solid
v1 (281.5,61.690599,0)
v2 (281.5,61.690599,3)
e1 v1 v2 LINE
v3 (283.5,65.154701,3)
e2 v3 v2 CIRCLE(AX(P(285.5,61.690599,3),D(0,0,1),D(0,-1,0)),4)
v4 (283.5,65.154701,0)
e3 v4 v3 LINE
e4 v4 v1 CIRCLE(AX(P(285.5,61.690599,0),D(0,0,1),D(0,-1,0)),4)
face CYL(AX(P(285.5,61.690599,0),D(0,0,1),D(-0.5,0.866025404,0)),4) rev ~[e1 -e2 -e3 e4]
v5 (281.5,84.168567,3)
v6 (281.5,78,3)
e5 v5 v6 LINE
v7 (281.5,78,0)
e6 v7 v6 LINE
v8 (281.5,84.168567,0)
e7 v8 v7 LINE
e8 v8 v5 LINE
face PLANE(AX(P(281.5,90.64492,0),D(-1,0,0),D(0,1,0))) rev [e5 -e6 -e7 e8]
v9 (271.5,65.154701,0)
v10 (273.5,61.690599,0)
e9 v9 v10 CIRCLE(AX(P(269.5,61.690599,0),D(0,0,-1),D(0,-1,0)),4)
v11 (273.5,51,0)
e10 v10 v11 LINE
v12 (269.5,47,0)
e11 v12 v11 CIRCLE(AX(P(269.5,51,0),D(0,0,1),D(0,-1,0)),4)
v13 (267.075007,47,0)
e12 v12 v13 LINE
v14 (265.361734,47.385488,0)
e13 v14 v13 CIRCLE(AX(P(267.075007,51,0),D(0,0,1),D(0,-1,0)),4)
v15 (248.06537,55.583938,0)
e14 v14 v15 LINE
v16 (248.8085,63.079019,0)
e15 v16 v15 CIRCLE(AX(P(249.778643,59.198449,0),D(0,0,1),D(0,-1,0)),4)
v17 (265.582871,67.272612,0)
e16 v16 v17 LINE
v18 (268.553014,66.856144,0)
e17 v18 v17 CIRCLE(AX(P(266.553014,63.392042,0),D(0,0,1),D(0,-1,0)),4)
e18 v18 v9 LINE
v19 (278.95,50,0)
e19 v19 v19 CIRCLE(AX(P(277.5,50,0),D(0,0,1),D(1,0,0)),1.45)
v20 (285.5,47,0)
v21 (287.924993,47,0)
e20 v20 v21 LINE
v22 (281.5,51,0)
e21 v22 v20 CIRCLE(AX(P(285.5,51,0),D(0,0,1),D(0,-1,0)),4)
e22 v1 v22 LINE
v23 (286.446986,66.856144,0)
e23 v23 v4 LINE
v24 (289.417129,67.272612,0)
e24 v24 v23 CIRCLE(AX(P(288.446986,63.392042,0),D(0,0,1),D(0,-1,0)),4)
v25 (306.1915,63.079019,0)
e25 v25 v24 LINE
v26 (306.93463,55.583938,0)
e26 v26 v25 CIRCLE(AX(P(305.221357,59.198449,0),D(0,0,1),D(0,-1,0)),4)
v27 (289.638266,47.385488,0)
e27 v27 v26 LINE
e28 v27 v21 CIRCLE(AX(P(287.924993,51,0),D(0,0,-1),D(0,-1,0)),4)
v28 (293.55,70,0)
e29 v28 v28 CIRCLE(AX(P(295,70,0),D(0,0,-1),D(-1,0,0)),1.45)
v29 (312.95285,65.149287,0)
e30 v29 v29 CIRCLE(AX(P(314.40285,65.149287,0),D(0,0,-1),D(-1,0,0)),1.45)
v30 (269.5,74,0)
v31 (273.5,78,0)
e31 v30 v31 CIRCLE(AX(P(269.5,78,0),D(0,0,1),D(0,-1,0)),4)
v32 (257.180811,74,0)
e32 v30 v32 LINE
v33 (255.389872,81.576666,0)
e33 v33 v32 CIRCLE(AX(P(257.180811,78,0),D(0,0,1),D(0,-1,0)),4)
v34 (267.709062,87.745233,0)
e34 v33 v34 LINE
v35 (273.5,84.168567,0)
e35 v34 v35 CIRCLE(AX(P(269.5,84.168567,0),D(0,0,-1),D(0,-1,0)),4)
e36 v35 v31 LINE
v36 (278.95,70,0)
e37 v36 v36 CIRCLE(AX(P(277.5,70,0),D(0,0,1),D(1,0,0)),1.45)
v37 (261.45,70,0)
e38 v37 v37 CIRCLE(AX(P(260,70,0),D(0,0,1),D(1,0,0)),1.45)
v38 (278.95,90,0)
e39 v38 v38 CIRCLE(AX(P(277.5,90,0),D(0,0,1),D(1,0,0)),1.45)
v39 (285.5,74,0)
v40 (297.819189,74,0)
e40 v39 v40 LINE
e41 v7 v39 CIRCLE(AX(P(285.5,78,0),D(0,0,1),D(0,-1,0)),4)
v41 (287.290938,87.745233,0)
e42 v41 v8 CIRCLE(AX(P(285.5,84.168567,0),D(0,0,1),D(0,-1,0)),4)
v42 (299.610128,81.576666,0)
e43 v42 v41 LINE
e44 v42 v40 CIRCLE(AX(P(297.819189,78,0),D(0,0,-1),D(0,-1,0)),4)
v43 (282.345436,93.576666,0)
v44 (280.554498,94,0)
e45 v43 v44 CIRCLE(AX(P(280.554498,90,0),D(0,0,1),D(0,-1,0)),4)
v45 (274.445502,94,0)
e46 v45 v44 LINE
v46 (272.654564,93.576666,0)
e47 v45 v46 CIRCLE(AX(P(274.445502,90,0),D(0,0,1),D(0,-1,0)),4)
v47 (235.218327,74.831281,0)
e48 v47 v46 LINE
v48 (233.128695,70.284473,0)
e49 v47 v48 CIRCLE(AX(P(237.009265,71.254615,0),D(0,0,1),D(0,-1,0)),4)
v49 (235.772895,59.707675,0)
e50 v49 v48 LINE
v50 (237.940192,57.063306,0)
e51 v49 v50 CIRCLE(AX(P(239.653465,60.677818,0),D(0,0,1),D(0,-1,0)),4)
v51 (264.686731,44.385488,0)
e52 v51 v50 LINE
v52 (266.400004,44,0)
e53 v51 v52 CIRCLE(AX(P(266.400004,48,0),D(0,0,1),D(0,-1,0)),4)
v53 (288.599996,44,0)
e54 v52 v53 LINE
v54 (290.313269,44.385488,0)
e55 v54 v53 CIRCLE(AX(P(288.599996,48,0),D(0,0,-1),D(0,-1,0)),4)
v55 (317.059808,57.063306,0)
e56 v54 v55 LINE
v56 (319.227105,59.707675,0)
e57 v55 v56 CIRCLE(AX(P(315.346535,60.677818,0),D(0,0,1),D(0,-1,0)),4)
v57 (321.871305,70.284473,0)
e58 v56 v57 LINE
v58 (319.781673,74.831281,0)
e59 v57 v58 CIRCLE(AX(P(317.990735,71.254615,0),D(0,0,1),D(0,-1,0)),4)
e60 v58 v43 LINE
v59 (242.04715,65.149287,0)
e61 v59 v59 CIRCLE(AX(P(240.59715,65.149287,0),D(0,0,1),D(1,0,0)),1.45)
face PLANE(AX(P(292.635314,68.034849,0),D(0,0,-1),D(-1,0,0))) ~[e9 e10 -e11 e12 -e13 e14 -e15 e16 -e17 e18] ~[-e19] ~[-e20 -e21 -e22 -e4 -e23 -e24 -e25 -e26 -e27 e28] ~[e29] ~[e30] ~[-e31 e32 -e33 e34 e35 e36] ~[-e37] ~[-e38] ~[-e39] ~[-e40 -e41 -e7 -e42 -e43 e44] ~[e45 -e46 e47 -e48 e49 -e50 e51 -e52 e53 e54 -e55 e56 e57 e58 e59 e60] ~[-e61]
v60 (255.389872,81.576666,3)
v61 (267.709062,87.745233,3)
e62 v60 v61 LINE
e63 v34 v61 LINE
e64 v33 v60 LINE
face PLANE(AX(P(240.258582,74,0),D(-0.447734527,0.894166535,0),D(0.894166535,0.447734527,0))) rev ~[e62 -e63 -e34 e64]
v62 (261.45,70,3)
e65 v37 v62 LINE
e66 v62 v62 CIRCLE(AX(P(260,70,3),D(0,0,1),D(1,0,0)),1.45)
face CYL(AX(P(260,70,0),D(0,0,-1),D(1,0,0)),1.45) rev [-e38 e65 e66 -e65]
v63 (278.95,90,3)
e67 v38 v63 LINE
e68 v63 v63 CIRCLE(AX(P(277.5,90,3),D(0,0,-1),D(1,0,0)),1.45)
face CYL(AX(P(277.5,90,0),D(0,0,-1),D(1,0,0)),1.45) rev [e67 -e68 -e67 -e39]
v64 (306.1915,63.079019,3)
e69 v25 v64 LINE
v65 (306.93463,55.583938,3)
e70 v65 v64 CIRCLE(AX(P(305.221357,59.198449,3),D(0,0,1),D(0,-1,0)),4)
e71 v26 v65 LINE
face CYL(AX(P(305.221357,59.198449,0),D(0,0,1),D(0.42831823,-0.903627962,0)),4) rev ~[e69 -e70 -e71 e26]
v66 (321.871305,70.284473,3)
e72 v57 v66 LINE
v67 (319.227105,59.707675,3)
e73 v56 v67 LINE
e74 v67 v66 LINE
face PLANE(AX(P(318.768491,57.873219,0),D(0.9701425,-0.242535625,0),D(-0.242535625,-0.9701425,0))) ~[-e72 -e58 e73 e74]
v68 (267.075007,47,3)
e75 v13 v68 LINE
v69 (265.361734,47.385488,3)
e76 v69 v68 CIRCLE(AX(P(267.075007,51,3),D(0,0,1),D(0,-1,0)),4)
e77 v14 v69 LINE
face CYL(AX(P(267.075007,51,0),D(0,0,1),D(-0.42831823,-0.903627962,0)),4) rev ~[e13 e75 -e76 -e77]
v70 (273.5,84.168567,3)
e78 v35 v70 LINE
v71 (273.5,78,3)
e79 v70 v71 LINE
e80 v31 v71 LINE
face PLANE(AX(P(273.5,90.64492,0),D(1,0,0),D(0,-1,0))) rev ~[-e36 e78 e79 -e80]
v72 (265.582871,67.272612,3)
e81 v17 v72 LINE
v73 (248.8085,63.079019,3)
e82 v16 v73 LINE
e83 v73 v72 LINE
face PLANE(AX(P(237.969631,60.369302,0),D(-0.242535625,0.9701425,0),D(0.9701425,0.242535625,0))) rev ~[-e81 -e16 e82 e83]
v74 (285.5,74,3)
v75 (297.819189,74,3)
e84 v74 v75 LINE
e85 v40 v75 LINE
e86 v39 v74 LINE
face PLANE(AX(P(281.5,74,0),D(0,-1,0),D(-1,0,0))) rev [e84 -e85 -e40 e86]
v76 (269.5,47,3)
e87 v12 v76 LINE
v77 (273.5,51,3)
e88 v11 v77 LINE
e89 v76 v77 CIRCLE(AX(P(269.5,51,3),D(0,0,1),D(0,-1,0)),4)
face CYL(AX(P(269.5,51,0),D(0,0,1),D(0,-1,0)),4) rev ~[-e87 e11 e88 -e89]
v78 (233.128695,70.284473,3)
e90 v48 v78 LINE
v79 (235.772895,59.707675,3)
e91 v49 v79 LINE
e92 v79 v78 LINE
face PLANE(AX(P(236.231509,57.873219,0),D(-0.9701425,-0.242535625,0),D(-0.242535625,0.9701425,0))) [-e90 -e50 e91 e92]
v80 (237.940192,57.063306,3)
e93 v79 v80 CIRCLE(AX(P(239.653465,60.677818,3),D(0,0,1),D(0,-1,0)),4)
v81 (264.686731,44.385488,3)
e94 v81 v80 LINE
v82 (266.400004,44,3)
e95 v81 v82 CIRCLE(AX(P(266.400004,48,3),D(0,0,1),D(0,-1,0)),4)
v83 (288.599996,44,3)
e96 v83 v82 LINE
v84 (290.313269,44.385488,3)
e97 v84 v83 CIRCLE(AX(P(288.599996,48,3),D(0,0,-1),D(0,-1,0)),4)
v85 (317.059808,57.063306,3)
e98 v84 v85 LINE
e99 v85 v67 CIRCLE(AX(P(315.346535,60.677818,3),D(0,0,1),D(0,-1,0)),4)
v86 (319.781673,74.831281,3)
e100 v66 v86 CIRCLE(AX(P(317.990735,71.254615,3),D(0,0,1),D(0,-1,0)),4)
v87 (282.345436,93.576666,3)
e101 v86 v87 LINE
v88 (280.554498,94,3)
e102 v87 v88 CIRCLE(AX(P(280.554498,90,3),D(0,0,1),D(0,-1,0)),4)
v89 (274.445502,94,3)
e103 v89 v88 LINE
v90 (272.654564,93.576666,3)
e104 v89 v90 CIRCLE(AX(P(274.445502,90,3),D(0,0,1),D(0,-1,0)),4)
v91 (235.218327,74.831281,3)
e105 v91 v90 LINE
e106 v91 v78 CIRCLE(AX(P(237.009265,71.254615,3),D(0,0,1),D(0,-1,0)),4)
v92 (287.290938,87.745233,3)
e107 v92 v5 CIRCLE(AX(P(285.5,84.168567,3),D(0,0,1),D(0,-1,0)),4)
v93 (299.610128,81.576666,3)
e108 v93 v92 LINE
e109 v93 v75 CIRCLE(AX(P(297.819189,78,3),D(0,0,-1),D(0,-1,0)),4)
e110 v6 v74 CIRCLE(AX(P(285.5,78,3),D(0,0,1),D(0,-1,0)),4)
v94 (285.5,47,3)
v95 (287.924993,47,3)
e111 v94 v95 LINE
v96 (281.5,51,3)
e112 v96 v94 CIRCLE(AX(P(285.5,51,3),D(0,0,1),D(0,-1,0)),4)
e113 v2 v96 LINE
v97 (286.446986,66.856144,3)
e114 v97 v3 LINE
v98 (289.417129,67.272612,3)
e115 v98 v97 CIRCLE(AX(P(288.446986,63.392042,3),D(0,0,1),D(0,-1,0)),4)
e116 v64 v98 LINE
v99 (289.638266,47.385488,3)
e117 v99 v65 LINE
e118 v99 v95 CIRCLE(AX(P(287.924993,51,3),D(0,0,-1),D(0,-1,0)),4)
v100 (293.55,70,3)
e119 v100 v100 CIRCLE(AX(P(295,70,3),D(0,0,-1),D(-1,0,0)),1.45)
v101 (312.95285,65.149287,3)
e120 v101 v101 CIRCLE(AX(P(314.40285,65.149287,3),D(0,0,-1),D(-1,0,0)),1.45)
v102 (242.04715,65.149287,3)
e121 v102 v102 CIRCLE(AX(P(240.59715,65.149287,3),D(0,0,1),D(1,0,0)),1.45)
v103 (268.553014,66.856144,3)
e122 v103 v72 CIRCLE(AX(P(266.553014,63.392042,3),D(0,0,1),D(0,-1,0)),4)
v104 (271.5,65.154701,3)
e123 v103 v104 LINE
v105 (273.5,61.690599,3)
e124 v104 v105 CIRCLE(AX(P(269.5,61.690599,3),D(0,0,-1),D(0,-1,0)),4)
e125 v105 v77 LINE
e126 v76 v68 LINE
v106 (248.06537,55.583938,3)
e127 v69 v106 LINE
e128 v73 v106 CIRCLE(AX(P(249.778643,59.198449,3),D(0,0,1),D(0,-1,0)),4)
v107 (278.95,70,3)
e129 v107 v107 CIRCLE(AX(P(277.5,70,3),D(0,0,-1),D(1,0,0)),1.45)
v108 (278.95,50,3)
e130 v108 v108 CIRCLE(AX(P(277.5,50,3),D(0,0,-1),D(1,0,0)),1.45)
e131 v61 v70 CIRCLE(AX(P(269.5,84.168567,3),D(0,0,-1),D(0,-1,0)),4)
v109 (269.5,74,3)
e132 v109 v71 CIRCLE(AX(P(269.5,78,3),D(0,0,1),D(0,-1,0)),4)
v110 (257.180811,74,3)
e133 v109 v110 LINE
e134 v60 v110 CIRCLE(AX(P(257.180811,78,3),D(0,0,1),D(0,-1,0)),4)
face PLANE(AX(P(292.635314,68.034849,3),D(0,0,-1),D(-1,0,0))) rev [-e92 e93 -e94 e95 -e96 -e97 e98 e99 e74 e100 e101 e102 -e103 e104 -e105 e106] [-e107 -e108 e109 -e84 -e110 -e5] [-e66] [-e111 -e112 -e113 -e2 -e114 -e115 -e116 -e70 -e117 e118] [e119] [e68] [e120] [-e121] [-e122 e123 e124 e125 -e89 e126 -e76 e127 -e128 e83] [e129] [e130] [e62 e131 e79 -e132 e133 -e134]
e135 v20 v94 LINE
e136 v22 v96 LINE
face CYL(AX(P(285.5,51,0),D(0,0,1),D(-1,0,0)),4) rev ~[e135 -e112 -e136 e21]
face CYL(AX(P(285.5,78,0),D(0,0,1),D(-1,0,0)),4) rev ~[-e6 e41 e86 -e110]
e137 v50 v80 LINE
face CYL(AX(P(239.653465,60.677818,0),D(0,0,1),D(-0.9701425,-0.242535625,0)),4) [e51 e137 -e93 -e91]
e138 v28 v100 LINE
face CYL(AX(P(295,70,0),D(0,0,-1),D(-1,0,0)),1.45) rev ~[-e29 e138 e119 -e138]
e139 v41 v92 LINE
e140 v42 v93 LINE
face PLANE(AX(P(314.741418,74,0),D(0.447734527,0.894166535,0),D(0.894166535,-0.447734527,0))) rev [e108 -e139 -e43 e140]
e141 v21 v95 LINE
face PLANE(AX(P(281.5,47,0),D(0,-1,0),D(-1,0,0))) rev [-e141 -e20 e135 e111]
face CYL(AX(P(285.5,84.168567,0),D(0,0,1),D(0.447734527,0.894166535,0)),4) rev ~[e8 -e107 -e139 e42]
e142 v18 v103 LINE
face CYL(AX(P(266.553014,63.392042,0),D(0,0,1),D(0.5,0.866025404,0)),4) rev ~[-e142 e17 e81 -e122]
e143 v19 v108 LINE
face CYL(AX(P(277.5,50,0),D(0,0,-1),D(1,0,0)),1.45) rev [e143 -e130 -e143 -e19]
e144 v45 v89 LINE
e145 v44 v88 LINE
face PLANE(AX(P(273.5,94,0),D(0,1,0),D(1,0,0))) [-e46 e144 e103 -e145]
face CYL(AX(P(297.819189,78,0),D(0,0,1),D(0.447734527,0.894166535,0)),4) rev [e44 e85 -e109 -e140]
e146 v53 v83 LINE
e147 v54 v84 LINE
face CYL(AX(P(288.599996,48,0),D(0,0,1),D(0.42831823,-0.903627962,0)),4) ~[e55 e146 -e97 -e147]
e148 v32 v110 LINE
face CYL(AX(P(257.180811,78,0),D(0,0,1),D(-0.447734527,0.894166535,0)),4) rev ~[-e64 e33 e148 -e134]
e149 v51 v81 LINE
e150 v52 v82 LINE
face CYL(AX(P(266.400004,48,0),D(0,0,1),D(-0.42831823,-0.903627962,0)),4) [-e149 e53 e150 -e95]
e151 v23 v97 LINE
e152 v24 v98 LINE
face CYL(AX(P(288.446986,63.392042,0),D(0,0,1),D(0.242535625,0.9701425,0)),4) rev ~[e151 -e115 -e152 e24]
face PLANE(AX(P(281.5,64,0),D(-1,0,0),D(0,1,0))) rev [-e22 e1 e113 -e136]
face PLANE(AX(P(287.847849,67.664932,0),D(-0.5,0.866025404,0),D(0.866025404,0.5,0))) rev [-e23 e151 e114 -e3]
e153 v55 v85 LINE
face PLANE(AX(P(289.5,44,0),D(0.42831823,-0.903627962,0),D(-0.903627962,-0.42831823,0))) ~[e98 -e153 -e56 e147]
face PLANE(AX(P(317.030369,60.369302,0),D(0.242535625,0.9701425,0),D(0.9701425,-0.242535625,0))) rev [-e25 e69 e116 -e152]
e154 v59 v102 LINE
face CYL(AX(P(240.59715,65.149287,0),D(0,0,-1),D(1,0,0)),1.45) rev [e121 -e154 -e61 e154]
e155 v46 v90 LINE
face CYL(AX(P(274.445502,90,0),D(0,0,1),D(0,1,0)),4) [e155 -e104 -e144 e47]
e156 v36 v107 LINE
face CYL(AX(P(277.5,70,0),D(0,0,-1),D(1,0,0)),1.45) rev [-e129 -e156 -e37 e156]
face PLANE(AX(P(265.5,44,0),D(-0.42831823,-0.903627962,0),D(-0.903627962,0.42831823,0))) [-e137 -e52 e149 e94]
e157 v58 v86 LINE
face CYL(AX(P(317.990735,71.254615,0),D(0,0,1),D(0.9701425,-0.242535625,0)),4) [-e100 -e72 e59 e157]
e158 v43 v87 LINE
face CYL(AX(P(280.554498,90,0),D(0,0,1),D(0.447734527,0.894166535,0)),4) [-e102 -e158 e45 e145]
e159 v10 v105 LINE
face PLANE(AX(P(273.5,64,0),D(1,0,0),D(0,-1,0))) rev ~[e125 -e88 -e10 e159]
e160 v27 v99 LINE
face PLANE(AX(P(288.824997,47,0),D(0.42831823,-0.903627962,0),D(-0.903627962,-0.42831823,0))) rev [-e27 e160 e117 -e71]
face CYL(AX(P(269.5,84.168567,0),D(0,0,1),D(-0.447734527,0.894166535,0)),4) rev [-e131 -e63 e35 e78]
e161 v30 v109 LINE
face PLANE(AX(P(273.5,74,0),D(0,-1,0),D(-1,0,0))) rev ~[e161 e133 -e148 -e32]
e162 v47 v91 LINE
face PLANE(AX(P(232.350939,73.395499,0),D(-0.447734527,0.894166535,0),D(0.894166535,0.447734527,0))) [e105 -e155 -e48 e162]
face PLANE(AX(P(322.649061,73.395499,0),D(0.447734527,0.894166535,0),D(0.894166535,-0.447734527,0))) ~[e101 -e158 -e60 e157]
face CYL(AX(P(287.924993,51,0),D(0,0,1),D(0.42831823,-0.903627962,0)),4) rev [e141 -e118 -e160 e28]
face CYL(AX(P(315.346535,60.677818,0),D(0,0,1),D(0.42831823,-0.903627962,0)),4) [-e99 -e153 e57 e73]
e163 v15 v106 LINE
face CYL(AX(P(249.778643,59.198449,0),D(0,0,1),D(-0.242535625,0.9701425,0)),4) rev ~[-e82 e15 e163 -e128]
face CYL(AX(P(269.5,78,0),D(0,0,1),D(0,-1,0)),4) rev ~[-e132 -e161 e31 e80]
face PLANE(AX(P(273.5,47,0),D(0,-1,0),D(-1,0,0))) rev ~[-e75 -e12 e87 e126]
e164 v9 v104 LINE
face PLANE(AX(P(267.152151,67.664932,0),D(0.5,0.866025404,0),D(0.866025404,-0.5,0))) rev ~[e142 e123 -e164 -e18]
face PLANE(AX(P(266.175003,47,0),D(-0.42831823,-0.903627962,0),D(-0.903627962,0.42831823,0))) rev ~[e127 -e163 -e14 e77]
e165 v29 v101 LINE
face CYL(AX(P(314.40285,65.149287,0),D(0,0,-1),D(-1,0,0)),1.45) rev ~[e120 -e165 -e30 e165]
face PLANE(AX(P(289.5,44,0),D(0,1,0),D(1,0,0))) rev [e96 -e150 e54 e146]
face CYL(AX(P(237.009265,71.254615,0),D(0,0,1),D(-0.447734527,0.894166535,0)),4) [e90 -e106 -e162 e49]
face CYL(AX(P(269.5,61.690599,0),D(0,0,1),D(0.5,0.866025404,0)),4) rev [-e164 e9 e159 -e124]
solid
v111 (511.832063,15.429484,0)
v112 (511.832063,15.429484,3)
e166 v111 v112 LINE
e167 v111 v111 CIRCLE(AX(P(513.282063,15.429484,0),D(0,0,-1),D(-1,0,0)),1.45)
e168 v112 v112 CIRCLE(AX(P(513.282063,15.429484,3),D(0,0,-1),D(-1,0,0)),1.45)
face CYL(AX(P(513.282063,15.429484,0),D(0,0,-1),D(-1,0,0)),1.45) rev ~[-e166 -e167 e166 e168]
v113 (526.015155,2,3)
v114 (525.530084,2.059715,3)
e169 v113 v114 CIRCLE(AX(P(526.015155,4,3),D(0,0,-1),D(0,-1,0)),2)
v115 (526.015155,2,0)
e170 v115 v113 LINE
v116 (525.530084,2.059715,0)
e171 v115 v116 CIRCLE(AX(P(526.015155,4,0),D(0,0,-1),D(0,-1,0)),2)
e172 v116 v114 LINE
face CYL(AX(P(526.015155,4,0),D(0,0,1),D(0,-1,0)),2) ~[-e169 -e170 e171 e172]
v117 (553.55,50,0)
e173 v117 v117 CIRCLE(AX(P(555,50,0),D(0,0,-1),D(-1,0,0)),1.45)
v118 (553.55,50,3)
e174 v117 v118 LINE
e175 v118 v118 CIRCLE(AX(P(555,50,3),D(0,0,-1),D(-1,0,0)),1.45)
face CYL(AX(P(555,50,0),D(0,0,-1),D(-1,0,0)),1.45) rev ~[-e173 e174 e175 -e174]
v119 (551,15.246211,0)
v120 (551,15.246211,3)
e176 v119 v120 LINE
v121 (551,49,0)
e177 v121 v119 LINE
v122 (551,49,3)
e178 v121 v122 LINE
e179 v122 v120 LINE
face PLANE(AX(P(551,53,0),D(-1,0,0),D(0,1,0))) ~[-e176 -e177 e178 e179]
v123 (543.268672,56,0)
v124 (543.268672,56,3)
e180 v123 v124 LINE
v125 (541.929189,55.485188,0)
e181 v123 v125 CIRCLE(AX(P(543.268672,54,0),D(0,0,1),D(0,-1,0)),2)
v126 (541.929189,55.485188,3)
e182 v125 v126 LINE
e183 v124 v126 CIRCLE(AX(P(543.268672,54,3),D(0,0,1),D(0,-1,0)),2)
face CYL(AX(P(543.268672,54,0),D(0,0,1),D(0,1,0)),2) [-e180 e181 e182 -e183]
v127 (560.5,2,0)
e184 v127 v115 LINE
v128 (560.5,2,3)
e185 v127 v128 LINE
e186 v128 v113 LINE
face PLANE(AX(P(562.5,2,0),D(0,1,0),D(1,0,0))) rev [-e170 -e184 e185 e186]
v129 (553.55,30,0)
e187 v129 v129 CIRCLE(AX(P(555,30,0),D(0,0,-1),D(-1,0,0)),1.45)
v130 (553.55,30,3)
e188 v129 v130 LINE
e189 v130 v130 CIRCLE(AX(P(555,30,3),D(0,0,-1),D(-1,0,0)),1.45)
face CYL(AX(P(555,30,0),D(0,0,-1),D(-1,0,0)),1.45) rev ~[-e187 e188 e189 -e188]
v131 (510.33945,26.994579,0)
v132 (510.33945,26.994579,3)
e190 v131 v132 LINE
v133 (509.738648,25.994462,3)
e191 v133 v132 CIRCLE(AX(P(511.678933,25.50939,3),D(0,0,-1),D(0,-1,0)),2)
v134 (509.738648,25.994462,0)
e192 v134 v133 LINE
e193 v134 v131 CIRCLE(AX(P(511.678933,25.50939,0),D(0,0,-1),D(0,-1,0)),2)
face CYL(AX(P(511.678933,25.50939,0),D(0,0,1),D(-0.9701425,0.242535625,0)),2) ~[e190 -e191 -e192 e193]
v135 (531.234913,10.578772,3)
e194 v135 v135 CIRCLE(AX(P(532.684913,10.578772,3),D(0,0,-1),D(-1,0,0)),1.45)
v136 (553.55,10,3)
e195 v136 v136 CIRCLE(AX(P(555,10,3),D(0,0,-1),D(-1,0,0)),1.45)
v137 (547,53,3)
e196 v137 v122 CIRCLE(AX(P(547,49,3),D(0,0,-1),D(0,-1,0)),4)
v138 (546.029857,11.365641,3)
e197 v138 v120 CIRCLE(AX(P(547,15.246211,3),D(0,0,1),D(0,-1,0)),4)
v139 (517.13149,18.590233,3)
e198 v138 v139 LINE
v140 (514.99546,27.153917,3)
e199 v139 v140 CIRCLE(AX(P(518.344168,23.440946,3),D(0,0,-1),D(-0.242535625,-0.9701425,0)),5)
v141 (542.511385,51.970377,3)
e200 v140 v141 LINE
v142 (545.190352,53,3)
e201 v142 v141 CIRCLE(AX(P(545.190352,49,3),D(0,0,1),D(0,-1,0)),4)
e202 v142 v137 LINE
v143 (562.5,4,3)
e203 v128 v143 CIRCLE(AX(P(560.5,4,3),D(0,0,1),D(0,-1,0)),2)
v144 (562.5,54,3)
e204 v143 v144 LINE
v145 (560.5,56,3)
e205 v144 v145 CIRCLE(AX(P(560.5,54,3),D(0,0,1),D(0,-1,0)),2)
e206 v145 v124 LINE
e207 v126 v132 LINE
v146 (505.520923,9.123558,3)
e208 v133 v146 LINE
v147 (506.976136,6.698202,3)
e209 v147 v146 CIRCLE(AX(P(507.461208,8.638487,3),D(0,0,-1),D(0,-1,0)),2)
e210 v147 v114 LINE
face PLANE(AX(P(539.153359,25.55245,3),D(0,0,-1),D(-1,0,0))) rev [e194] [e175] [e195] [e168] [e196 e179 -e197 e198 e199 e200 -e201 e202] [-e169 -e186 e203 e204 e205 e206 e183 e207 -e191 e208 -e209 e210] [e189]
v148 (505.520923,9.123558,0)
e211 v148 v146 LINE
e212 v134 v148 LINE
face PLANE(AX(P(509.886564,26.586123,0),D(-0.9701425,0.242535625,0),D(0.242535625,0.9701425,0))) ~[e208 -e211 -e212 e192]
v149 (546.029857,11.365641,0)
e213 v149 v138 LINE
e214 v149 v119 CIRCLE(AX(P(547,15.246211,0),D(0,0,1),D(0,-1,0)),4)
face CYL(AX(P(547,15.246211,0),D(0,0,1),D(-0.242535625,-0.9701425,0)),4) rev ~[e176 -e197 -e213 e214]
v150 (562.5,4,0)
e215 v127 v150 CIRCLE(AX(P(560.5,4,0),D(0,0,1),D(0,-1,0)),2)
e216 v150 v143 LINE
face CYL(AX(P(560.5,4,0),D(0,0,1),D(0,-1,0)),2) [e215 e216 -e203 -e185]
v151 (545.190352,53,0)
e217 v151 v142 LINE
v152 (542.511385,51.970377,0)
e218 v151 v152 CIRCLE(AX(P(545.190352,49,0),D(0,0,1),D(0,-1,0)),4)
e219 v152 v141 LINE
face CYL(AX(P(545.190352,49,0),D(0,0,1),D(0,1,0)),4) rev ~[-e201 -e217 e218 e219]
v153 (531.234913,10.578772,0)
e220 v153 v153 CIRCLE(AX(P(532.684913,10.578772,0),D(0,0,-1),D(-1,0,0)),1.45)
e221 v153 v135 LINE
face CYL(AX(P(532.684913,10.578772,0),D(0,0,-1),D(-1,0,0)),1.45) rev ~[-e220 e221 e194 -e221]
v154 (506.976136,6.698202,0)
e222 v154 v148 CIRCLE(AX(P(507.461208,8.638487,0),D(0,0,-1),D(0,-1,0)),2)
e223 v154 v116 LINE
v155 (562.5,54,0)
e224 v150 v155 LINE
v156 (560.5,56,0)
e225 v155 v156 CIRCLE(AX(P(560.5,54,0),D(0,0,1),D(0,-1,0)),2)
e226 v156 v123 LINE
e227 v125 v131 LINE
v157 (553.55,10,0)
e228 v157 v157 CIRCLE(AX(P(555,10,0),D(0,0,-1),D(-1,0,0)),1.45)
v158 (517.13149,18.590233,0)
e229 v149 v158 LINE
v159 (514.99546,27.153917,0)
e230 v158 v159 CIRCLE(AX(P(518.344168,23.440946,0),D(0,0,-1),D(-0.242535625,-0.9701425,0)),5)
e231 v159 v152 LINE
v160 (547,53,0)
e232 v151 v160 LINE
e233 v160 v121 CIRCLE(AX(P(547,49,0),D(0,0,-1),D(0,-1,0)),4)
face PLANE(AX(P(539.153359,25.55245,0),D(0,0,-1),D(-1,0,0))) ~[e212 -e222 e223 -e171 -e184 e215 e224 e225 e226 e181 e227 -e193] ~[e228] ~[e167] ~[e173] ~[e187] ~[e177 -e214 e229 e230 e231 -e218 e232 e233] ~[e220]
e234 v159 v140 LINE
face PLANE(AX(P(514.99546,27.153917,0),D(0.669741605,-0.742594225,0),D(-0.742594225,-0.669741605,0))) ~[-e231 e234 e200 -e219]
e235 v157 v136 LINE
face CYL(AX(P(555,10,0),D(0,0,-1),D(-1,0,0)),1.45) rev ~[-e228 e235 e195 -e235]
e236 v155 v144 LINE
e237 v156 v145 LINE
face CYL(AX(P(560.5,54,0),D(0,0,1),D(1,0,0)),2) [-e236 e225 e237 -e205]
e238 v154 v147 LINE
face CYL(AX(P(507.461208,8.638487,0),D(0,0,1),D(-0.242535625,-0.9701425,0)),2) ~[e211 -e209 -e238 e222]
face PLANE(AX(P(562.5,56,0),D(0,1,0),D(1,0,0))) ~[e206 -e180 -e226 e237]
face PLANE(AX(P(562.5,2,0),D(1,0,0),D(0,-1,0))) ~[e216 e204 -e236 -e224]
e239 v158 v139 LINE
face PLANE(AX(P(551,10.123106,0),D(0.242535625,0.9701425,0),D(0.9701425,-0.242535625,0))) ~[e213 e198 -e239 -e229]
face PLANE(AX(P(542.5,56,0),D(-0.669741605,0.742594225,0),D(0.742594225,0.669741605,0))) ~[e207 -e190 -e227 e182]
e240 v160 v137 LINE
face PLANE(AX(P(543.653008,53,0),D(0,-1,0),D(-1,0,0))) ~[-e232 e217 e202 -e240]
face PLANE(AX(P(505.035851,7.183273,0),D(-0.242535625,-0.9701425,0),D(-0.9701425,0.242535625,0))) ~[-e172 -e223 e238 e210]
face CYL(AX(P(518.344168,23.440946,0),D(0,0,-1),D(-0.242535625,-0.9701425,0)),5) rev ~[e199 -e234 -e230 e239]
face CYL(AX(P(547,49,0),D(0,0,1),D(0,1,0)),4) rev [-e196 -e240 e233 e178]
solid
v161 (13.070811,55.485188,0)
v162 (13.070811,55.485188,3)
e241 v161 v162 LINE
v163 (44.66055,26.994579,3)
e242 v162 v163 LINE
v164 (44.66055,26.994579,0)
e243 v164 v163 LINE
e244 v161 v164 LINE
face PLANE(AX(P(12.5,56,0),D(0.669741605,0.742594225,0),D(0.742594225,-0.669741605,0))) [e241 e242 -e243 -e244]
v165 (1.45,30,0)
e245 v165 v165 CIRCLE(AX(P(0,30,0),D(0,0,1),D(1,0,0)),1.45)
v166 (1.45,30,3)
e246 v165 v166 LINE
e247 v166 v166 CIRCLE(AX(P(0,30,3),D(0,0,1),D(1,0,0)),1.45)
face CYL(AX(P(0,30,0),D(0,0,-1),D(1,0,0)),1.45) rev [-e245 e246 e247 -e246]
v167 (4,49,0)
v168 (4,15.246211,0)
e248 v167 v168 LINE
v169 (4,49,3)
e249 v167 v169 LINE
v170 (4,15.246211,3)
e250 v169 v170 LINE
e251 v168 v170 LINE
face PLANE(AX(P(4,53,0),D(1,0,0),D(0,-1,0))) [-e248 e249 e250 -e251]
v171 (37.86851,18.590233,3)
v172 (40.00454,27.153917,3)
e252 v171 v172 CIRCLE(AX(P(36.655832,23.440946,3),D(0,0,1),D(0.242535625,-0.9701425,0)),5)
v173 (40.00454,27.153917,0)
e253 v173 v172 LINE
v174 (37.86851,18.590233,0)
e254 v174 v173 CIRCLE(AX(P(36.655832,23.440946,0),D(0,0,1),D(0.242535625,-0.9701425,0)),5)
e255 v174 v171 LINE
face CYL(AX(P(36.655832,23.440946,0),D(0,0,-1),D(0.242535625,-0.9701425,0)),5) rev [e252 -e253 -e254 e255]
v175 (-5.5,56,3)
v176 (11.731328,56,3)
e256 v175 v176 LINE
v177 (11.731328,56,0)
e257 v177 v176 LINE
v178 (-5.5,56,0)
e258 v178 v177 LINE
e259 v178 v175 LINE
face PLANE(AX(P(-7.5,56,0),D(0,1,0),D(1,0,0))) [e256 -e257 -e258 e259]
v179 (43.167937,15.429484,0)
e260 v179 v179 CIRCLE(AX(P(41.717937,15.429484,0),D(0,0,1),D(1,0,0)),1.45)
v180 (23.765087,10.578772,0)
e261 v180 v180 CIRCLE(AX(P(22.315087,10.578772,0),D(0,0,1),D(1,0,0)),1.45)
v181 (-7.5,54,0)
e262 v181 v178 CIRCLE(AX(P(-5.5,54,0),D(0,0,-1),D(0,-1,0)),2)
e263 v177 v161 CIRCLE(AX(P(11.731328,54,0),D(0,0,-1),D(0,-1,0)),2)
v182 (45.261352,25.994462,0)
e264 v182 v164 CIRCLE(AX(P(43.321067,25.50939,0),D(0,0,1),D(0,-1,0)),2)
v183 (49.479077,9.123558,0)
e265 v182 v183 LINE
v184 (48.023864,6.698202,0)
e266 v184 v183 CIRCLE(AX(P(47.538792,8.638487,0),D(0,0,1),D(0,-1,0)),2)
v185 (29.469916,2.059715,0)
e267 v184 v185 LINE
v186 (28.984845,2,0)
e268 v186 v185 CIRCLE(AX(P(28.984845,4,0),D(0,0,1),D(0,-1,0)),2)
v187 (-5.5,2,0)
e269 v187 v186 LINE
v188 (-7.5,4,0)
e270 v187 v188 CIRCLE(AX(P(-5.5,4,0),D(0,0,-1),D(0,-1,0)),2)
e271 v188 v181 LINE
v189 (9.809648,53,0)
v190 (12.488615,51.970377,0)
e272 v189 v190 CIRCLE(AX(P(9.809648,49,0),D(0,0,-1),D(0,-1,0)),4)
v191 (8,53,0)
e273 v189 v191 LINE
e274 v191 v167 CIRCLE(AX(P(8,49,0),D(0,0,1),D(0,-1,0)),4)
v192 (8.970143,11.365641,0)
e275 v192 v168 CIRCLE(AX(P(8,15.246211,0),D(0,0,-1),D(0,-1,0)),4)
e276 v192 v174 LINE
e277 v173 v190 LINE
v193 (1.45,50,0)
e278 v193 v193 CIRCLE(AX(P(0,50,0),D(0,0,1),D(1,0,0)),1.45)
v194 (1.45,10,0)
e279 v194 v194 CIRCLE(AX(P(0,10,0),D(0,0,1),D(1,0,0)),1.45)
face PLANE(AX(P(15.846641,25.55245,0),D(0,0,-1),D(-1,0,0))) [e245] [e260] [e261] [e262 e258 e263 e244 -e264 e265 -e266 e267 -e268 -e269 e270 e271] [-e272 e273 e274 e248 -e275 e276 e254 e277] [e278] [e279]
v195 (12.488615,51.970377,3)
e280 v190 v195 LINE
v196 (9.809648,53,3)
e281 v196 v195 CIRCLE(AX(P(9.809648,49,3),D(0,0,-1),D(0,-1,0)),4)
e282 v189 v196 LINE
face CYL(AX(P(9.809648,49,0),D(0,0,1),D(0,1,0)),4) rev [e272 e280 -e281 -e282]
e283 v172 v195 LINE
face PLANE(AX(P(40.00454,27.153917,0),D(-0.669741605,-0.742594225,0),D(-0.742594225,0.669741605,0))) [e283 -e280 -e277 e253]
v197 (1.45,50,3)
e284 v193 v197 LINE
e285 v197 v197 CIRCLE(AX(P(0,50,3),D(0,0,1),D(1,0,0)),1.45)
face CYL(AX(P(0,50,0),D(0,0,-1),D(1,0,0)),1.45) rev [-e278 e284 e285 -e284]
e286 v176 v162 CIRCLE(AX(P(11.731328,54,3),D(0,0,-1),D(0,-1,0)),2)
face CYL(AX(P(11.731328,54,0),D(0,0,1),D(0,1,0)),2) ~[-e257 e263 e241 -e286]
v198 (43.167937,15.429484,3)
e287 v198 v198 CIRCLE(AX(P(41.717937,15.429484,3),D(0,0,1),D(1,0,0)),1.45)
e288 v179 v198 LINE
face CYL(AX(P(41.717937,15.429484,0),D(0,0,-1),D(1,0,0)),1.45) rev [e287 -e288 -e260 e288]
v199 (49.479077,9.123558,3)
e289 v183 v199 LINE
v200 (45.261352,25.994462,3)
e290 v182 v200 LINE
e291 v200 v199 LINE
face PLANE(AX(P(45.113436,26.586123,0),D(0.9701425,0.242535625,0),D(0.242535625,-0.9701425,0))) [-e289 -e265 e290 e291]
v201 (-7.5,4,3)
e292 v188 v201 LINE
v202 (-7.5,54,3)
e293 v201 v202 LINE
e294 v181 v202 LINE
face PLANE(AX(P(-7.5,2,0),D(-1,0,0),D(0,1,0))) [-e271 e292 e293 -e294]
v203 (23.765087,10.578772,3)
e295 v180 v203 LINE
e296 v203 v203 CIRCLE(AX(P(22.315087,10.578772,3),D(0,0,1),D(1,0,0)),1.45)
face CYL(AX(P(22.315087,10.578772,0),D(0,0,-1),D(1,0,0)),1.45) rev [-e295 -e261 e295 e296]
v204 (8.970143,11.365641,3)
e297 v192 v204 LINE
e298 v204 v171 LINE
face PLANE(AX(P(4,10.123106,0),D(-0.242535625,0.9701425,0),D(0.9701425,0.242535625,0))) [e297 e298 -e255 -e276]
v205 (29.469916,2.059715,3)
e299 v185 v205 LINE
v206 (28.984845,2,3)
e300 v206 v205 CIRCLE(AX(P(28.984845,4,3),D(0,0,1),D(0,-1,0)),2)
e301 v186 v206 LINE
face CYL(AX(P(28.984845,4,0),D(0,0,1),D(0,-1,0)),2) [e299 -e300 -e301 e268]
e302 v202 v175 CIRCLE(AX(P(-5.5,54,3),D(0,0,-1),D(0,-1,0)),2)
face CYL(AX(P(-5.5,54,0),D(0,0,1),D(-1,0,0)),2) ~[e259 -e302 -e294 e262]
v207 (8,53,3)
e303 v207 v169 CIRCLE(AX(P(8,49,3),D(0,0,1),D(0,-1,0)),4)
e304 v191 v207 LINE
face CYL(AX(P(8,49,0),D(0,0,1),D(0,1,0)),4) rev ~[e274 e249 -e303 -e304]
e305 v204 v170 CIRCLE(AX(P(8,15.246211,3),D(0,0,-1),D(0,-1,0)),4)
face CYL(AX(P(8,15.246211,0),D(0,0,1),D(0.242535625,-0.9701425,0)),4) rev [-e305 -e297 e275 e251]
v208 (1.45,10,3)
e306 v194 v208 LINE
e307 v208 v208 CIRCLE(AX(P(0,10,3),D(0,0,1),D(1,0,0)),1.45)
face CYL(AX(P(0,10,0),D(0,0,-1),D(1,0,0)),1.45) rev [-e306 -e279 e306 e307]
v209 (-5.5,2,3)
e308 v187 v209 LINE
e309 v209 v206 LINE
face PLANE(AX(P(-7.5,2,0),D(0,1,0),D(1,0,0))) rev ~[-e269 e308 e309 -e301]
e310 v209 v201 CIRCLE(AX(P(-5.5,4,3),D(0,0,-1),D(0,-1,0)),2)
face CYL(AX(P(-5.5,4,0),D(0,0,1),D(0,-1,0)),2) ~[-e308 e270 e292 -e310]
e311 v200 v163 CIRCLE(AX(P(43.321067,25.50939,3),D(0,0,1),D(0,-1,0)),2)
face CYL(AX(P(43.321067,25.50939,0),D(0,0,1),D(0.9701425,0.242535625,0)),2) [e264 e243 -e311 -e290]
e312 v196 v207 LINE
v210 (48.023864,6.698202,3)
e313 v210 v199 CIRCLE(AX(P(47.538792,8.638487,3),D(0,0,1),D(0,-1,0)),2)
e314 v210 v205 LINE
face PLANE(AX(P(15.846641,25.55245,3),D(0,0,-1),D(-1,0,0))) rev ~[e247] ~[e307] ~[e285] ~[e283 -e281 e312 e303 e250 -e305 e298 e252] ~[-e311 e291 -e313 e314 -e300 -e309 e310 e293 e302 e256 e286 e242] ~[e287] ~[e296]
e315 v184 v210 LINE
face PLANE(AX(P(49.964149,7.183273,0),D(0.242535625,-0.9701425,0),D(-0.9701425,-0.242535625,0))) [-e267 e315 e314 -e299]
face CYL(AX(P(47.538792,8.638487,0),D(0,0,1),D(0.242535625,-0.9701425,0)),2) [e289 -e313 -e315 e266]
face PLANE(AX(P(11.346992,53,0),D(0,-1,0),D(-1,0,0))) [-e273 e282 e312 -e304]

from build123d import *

# Parameters (mm, degrees)
SKETCH_1_R        = 1.45
EXTRUDE_1_DEPTH   = 3
EXTRUDE_1_2_DEPTH = 3
FILLET_1_R        = 4
FILLET_2_R        = 4
FILLET_3_R        = 4
FILLET_4_R        = 2
FILLET_5_R        = 2
FILLET_6_R        = 4


with BuildPart() as part:
    # 草图1 → 凸台-拉伸1 (new body)
    with BuildSketch(Plane.XY):
        Polygon((0, 2), (-7.5, 2), (-7.5, 56), (12.5, 56), (45.113436218, 26.586123118), (49.964148719, 7.183273116), (29.231056256, 2), align=None)
        with Locations((0, 30)):
            Circle(SKETCH_1_R, mode=Mode.SUBTRACT)
        with Locations((0, 10)):
            Circle(SKETCH_1_R, mode=Mode.SUBTRACT)
        with Locations((0, 50)):
            Circle(SKETCH_1_R, mode=Mode.SUBTRACT)
        with Locations((22.315087464, 10.578771866)):
            Circle(SKETCH_1_R, mode=Mode.SUBTRACT)
        with Locations((41.717937467, 15.429484367)):
            Circle(SKETCH_1_R, mode=Mode.SUBTRACT)
        with BuildLine():
            Line((4, 53), (4, 10.123105626))
            Line((4, 10.123105626), (37.868510171, 18.590233168))
            ThreePointArc((37.868510171, 18.590233168), (41.507195793, 22.23087551), (40.00454007, 27.153916794))
            Line((40.00454007, 27.153916794), (11.346992154, 53))
            Line((11.346992154, 53), (4, 53))
        make_face(mode=Mode.SUBTRACT)
    extrude(amount=EXTRUDE_1_DEPTH)


with BuildPart() as body_2:
    # 草图1 → Extrude 1 2 (new body)
    with BuildSketch(Plane.XY):
        Polygon((277.5, 44), (265.5, 44), (236.231508746, 57.873218748), (232.350938746, 73.395498751), (273.5, 94), (281.5, 94), (281.5, 44), align=None)
        with Locations((277.5, 70)):
            Circle(SKETCH_1_R, mode=Mode.SUBTRACT)
        with Locations((277.5, 50)):
            Circle(SKETCH_1_R, mode=Mode.SUBTRACT)
        with Locations((277.5, 90)):
            Circle(SKETCH_1_R, mode=Mode.SUBTRACT)
        with Locations((260, 70)):
            Circle(SKETCH_1_R, mode=Mode.SUBTRACT)
        with Locations((240.597149997, 65.149287499)):
            Circle(SKETCH_1_R, mode=Mode.SUBTRACT)
        Polygon((273.5, 64), (273.5, 47), (266.175003056, 47), (237.969630722, 60.369302055), (267.152151247, 67.664932186), align=None, mode=Mode.SUBTRACT)
        Polygon((273.5, 90.64492029), (273.5, 74), (240.258581715, 74), align=None, mode=Mode.SUBTRACT)
    extrude(amount=EXTRUDE_1_2_DEPTH)


with BuildPart() as body_3:
    # 镜向4: mirrored copy
    add(part.part.mirror(Plane.ZY.offset(-277.5)))

    # 圆角3
    fillet_3_edges = [body_3.edges().sort_by_distance(p)[0] for p in [
        (543.653007846, 53, 1.5),
        (551, 53, 1.5),
        (551, 10.123105626, 1.5),
    ]]
    fillet(fillet_3_edges, radius=FILLET_3_R)

    # 圆角5
    fillet_5_edges = [body_3.edges().sort_by_distance(p)[0] for p in [
        (562.5, 2, 1.5),
        (562.5, 56, 1.5),
        (542.5, 56, 1.5),
        (509.886563782, 26.586123118, 1.5),
        (505.035851281, 7.183273116, 1.5),
        (525.768943744, 2, 1.5),
    ]]
    fillet(fillet_5_edges, radius=FILLET_5_R)


with BuildPart() as body_4:
    # Mirror 4 2: mirrored copy
    add(body_2.part.mirror(Plane.ZY.offset(-277.5)))


with BuildPart() as body_2_1:
    add(body_2.part)

    # Combine 4: union body 4
    add(body_4.part)

    # 圆角2
    fillet_2_edges = [body_2_1.edges().sort_by_distance(p)[0] for p in [
        (273.5, 90.64492029, 1.5),
        (273.5, 74, 1.5),
        (240.258581715, 74, 1.5),
        (273.5, 64, 1.5),
        (273.5, 47, 1.5),
        (266.175003056, 47, 1.5),
        (237.969630722, 60.369302055, 1.5),
        (267.152151247, 67.664932186, 1.5),
        (281.5, 64, 1.5),
        (287.847848753, 67.664932186, 1.5),
        (317.030369278, 60.369302055, 1.5),
        (288.824996944, 47, 1.5),
        (281.5, 47, 1.5),
        (281.5, 90.64492029, 1.5),
        (314.741418285, 74, 1.5),
        (281.5, 74, 1.5),
    ]]
    fillet(fillet_2_edges, radius=FILLET_2_R)

    # 圆角6
    fillet_6_edges = [body_2_1.edges().sort_by_distance(p)[0] for p in [
        (265.5, 44, 1.5),
        (236.231508746, 57.873218748, 1.5),
        (232.350938746, 73.395498751, 1.5),
        (273.5, 94, 1.5),
        (281.5, 94, 1.5),
        (322.649061254, 73.395498751, 1.5),
        (318.768491254, 57.873218748, 1.5),
        (289.5, 44, 1.5),
    ]]
    fillet(fillet_6_edges, radius=FILLET_6_R)


with BuildPart() as part_1:
    add(part.part)

    # 圆角1
    fillet_1_edges = [part_1.edges().sort_by_distance(p)[0] for p in [
        (11.346992154, 53, 1.5),
        (4, 53, 1.5),
        (4, 10.123105626, 1.5),
    ]]
    fillet(fillet_1_edges, radius=FILLET_1_R)

    # 圆角4
    fillet_4_edges = [part_1.edges().sort_by_distance(p)[0] for p in [
        (-7.5, 2, 1.5),
        (-7.5, 56, 1.5),
        (12.5, 56, 1.5),
        (45.113436218, 26.586123118, 1.5),
        (49.964148719, 7.183273116, 1.5),
        (29.231056256, 2, 1.5),
    ]]
    fillet(fillet_4_edges, radius=FILLET_4_R)


solid = Compound([body_3.part, body_2_1.part, part_1.part])
